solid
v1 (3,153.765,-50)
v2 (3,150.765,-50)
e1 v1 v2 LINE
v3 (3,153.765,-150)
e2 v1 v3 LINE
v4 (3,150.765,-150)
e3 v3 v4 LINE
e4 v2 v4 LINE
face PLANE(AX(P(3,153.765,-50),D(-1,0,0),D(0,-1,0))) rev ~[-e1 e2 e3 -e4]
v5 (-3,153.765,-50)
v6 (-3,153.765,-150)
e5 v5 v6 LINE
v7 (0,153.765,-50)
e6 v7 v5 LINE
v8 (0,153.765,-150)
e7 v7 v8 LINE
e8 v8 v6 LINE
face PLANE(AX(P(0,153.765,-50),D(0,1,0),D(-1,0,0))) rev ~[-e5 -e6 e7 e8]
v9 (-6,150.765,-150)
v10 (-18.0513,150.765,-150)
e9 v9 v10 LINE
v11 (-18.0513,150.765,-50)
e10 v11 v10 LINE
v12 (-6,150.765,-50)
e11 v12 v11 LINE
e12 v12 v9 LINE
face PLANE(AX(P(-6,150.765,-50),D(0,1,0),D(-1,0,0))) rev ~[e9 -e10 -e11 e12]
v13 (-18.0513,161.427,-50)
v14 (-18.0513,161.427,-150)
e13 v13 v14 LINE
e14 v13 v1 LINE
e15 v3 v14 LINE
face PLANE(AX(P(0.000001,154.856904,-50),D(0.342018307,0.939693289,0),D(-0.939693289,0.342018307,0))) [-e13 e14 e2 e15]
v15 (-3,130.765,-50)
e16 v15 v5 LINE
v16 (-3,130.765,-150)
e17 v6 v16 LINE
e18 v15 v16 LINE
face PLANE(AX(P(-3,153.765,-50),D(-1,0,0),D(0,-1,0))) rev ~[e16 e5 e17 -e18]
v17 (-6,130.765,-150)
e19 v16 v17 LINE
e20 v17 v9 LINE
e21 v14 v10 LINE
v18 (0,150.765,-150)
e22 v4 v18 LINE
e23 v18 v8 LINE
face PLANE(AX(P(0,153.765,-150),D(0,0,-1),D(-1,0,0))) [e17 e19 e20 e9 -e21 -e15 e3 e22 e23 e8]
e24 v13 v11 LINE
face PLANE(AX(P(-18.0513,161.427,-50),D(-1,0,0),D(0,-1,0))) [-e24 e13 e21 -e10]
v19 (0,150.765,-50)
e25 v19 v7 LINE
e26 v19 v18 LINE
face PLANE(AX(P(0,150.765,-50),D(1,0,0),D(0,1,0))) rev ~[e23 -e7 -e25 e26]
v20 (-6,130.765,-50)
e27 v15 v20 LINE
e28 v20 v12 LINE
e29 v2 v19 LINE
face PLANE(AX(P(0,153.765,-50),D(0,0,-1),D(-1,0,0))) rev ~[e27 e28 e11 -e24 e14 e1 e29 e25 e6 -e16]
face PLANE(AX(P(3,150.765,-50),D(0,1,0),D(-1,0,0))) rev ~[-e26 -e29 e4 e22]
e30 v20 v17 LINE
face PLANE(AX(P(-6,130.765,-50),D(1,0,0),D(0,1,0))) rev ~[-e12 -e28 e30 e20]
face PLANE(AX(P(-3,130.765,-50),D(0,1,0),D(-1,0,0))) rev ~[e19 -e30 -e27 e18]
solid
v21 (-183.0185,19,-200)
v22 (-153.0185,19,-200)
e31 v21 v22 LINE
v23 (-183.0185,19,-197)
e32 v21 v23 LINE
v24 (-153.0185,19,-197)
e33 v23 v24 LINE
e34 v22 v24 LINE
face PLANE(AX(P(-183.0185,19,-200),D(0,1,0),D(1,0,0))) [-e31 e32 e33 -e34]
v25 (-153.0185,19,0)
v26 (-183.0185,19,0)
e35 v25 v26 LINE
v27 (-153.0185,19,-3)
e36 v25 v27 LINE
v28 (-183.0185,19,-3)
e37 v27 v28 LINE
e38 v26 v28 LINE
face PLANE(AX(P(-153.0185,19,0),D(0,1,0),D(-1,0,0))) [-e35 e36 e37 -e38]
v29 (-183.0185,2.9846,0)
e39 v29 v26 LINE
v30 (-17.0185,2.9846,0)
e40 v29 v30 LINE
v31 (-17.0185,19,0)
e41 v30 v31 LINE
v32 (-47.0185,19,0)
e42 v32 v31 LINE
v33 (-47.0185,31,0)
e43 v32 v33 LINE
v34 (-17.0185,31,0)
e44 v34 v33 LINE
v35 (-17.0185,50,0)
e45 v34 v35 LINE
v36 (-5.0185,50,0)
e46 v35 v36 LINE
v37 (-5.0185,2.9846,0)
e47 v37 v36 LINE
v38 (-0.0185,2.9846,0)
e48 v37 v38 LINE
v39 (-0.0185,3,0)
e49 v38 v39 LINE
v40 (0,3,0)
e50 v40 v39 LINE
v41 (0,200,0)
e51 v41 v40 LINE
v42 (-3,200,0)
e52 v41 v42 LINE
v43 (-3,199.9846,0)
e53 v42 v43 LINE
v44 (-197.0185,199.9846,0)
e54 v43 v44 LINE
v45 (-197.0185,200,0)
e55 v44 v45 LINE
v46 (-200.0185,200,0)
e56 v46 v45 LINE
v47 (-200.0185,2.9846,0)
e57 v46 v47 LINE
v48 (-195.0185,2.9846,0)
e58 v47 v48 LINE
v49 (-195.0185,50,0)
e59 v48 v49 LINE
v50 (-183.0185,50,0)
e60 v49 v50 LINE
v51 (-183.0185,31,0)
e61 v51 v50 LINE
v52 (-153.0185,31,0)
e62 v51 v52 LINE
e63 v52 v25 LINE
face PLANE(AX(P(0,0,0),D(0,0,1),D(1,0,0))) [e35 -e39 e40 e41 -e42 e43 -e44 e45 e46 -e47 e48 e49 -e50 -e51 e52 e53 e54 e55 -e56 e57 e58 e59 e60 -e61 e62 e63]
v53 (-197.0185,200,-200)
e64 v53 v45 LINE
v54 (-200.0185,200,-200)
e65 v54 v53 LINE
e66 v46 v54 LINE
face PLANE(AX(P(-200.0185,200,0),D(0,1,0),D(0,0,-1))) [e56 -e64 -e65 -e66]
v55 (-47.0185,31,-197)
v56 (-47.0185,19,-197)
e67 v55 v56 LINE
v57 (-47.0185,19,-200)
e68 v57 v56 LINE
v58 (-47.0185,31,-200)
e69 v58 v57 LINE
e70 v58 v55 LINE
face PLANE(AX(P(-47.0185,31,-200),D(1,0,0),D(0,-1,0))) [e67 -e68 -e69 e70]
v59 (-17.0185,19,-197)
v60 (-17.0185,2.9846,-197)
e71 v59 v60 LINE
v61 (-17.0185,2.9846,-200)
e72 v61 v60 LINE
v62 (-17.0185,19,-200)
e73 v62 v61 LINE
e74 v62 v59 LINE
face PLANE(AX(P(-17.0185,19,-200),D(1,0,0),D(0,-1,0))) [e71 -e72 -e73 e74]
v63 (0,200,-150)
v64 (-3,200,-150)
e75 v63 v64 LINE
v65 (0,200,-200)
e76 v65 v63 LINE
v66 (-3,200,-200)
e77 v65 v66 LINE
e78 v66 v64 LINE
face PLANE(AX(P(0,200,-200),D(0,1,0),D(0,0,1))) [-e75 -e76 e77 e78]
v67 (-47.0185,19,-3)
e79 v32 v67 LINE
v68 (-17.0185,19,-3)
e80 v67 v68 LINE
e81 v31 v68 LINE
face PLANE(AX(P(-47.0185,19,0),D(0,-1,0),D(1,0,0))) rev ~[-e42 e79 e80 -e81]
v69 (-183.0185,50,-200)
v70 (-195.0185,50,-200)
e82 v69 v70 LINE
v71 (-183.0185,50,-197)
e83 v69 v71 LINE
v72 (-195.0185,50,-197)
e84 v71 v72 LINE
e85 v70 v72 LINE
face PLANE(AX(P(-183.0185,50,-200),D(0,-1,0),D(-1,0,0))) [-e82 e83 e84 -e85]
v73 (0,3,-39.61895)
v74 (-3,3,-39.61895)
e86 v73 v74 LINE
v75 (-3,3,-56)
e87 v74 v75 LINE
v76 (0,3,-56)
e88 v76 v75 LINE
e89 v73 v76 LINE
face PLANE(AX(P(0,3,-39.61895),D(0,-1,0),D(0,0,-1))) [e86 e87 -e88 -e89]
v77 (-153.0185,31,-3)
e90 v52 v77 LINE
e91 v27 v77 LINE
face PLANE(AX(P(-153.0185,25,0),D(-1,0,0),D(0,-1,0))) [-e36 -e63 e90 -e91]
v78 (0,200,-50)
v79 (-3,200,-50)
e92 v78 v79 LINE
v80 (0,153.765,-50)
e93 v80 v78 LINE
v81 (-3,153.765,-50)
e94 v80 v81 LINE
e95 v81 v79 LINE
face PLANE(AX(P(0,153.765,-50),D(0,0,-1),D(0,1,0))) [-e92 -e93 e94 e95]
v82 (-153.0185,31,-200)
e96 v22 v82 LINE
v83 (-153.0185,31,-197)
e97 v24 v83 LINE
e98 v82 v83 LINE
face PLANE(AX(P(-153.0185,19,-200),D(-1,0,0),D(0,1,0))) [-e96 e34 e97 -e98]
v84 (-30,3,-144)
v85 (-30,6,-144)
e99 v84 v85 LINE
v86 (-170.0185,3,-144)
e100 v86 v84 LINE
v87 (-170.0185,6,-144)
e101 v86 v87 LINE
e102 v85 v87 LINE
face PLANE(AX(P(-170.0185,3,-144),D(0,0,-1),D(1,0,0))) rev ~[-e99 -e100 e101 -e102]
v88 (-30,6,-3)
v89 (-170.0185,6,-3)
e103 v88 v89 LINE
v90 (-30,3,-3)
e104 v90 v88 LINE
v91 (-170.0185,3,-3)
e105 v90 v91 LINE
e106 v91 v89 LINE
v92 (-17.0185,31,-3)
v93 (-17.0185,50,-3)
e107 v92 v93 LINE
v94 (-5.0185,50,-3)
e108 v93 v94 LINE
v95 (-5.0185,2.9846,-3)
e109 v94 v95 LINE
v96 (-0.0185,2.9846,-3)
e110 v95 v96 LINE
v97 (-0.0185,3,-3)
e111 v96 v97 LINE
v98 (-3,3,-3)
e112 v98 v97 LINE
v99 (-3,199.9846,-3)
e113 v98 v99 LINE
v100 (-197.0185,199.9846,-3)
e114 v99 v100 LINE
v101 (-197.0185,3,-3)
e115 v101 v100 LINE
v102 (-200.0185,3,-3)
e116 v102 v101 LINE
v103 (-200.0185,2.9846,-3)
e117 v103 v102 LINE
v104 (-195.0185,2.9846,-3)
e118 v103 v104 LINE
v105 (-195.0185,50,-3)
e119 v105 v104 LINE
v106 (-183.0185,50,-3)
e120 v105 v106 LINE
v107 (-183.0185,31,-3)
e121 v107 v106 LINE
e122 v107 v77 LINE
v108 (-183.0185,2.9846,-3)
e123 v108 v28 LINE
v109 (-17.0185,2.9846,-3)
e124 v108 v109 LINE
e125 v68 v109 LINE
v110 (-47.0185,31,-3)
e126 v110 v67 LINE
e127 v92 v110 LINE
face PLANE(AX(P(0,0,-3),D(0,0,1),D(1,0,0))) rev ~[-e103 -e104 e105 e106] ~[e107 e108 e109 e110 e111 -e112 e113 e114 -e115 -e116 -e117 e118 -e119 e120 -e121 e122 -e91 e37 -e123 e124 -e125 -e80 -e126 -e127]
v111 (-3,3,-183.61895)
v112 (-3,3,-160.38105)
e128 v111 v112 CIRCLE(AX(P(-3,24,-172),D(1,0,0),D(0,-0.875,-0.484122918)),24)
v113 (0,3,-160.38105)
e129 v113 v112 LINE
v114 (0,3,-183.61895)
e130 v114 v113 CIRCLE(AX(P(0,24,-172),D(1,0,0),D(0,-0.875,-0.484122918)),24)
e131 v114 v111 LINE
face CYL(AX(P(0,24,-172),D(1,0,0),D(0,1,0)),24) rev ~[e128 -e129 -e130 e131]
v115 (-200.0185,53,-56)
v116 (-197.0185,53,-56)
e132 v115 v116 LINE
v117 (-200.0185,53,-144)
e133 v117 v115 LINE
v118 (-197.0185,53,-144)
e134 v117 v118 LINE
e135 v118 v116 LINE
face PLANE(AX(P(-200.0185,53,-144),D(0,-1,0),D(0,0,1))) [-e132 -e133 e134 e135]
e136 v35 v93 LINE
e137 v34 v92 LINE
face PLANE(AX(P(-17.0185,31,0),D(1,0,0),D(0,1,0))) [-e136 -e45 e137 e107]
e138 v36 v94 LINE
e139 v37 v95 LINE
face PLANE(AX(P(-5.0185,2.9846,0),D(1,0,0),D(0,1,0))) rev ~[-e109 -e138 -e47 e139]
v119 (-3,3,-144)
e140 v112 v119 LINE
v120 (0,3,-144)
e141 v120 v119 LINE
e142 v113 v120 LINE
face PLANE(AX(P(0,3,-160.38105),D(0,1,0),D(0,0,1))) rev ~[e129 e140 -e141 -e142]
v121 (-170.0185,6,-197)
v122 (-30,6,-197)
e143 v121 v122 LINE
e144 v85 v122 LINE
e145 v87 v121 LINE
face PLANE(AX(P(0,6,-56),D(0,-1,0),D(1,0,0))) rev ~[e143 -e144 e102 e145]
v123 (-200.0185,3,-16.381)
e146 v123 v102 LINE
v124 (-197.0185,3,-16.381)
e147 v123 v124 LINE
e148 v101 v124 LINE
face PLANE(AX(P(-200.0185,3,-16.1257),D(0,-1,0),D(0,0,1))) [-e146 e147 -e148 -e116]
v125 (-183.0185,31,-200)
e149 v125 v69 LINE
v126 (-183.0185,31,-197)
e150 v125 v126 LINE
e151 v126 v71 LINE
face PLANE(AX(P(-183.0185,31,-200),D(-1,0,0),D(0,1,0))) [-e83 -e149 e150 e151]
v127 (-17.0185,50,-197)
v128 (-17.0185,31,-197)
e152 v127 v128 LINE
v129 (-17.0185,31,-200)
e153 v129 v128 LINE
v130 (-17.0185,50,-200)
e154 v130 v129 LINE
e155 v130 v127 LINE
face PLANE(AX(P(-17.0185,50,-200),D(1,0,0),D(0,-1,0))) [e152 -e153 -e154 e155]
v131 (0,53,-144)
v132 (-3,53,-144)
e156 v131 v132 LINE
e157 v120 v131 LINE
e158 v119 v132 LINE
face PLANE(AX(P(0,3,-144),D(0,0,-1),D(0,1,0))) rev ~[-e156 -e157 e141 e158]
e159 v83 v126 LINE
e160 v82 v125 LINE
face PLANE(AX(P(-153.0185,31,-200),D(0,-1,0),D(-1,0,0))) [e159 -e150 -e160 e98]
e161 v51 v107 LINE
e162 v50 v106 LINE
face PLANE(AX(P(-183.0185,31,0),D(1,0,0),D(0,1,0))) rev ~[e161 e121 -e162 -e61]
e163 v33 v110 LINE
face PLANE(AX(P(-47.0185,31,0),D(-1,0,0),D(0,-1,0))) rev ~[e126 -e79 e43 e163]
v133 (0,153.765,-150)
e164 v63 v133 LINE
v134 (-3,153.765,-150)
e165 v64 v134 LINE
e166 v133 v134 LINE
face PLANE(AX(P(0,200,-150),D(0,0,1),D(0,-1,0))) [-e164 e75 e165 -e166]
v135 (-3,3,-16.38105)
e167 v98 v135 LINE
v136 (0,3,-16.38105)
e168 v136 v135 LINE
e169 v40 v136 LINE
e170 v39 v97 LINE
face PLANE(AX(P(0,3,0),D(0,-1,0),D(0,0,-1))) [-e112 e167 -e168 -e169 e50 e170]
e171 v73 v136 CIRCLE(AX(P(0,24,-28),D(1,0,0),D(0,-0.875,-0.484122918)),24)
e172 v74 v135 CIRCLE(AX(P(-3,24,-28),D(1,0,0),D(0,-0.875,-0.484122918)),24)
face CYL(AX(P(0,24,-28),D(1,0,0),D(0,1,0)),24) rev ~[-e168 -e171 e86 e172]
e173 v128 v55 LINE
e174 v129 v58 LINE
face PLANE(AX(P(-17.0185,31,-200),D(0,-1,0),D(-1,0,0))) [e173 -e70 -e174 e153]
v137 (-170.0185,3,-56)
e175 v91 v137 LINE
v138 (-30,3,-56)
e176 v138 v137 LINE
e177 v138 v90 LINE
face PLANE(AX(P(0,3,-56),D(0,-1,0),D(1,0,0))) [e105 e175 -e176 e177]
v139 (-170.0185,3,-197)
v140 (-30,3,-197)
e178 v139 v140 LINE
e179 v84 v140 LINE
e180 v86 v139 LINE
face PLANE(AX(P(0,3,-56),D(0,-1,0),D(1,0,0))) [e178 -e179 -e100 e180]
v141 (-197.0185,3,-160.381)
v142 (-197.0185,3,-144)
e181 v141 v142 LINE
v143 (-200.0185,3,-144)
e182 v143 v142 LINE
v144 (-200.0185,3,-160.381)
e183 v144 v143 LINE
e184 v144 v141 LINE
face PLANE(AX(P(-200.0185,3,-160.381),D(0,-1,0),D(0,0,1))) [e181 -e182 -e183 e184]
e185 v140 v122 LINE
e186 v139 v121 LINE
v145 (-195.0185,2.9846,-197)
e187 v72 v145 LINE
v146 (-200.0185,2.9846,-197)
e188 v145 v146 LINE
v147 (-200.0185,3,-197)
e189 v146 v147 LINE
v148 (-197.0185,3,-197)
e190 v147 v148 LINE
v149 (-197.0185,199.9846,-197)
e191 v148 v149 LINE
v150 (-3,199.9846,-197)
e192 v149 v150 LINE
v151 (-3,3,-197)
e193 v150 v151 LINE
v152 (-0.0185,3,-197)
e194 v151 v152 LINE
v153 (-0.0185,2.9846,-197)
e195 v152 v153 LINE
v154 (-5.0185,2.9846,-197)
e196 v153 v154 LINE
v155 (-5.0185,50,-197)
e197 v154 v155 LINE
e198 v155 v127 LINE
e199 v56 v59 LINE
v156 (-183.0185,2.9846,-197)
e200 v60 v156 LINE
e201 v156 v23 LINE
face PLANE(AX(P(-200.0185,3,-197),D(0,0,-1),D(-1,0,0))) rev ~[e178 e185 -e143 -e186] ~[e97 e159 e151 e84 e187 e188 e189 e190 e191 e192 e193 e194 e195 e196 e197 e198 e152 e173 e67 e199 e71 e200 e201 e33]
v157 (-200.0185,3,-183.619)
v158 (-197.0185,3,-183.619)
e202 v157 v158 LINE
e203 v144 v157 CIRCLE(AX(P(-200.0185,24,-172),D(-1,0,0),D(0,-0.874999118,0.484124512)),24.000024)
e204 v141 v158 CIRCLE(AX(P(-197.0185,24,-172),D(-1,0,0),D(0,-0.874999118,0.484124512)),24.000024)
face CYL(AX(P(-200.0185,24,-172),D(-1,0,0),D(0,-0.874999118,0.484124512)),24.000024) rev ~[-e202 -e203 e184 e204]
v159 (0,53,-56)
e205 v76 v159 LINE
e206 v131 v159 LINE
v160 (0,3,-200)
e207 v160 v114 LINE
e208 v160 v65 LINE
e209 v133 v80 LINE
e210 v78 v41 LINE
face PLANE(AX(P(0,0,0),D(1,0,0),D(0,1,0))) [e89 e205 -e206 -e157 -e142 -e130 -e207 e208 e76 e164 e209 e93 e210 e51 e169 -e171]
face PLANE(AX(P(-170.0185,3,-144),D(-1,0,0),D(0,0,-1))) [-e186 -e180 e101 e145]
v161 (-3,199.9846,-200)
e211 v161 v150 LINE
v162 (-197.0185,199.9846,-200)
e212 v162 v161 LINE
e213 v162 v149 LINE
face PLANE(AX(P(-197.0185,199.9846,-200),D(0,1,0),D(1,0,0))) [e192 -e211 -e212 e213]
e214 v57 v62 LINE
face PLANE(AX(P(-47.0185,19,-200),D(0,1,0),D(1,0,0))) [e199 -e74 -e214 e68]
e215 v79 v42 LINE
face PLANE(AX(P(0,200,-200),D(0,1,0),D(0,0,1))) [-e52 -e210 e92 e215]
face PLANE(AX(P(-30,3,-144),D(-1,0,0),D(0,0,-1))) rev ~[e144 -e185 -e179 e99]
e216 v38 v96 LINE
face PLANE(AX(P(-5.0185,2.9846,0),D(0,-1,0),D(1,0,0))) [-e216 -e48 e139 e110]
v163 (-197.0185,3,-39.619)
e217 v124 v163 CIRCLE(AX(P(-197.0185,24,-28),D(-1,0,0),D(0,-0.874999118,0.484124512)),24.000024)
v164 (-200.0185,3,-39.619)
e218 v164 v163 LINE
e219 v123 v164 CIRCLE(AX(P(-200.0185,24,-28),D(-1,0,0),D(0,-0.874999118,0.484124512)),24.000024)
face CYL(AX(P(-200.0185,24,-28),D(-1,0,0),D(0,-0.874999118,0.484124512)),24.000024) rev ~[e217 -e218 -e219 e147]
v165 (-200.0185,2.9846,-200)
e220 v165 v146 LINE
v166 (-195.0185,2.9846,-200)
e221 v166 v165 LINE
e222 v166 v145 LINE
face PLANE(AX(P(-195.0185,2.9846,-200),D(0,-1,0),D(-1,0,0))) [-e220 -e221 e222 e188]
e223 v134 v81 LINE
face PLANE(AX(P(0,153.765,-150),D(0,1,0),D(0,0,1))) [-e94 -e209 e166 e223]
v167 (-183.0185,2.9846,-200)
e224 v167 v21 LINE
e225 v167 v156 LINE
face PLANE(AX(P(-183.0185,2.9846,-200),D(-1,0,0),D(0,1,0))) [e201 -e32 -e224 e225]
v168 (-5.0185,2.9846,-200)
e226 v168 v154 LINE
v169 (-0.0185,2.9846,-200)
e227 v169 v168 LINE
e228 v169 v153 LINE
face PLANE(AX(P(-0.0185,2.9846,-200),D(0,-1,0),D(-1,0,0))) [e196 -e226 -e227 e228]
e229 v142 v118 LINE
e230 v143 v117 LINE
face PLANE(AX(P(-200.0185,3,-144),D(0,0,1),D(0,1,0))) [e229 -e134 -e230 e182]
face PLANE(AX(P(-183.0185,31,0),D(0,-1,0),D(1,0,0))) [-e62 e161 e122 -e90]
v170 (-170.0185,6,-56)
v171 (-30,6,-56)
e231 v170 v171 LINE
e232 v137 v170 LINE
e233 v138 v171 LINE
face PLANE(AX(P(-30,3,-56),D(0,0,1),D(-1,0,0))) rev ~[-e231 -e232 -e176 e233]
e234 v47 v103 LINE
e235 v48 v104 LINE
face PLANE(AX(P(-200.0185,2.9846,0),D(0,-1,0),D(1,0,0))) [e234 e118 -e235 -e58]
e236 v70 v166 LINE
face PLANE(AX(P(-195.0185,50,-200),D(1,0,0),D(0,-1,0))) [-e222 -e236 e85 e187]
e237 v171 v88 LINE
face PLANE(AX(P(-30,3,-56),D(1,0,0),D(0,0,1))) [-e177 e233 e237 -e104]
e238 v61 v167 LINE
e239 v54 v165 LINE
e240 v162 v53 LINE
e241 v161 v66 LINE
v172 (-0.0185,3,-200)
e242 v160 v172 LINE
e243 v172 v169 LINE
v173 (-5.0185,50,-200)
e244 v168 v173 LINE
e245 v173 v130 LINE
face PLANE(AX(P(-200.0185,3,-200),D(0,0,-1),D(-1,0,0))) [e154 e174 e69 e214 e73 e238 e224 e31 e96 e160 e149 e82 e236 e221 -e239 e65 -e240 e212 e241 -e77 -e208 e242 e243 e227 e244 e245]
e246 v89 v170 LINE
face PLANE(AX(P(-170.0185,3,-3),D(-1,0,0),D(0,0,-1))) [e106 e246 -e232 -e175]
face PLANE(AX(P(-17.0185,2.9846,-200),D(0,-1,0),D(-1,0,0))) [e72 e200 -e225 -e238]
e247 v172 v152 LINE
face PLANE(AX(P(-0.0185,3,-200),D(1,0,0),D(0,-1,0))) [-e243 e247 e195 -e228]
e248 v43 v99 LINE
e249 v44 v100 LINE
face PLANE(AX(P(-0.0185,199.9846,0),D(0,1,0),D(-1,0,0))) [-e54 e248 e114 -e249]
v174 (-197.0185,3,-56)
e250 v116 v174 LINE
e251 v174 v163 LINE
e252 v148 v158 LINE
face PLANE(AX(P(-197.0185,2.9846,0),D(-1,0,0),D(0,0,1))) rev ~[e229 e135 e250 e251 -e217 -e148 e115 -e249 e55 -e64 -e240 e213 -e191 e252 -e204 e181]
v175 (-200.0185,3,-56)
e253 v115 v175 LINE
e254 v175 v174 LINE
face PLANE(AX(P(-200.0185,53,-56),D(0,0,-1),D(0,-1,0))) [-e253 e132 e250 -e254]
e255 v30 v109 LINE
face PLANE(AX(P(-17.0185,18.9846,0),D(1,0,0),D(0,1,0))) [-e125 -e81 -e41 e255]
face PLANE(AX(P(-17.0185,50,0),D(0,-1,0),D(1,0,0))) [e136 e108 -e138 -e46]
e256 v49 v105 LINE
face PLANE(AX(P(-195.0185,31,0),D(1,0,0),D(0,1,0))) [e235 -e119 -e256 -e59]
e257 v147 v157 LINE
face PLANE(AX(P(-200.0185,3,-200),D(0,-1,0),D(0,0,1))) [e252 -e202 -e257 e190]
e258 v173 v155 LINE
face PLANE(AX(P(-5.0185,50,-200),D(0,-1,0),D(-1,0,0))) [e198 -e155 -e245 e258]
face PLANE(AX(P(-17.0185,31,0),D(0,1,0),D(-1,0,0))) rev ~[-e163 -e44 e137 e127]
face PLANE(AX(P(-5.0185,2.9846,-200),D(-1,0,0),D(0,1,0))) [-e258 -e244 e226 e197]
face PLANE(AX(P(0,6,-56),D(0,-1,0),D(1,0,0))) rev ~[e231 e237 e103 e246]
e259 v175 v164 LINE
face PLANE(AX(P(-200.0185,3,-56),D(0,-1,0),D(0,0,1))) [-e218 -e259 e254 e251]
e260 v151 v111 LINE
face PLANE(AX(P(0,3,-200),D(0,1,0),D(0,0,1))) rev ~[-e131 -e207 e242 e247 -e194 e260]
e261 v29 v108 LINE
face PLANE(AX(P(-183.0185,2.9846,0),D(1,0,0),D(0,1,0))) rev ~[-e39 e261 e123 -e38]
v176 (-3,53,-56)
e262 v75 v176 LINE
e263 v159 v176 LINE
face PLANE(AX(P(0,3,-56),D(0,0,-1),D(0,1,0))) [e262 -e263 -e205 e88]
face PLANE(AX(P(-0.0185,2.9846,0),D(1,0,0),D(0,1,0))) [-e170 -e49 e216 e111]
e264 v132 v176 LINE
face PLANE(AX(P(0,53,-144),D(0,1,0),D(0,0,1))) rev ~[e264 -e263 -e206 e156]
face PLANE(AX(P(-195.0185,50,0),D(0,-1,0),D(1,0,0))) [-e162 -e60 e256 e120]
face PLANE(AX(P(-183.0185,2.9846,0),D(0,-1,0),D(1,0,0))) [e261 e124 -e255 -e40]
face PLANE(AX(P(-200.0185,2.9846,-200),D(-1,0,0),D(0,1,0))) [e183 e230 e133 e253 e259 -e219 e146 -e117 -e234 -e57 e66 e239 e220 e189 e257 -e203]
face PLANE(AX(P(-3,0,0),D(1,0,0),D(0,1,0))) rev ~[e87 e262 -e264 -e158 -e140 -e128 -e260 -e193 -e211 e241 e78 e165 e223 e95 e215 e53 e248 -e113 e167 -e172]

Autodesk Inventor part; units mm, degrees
ref_plane "YZ Plane" through (0, 0, 0) normal (1, 0, 0) x (0, 1, 0)
ref_plane "XZ Plane" through (0, 0, 0) normal (0, 1, 0) x (-1, 0, 0)
ref_plane "XY Plane" through (0, 0, 0) normal (0, 0, 1) x (1, 0, 0)
sketch "Sketch1" plane through (0, 0, 0) normal (0, 0, 1) x (1, 0, 0)
  line L0 (-200.0185, 197.9846) -> (-0.0185, -2.0154) construction
  line L1 (-200.0185, -2.0154) -> (-0.0185, 197.9846) construction
  line L2 (-200.0185, 2.9846) -> (-0.0185, 2.9846)
  line L3 (-0.0185, 2.9846) -> (-5.0185, 2.9846)
  line L4 (-17.0185, -0.0154) -> (-5.0185, -0.0154)
  line L5 (-17.0185, 6.9846) -> (-17.0185, 18.9846)
  line L6 (-47.0185, 6.9846) -> (-17.0185, 18.9846) construction
  line L7 (-17.0185, 6.9846) -> (-47.0185, 18.9846) construction
  line L8 (-195.0185, 25.9846) -> (-195.0185, -0.0154)
  line L9 (-195.0185, -0.0154) -> (-183.0185, -0.0154)
  line L10 (-183.0185, -0.0154) -> (-183.0185, 25.9846)
  line L11 (-183.0185, 25.9846) -> (-195.0185, -0.0154) construction
  line L12 (-195.0185, 25.9846) -> (-183.0185, -0.0154) construction
  line L13 (-168.0185, 12.9846) -> (-183.0185, 6.9846) construction
  line L14 (-0.0185, 2.9846) -> (-0.0185, 199.9846)
  line L15 (-0.0185, 199.9846) -> (-200.0185, 199.9846)
  line L16 (-200.0185, 2.9846) -> (-200.0185, 199.9846)
  line L17 (-183.0185, 18.9846) -> (-180.1613, 17.8418) construction
  line L18 (-168.0185, 12.9846) -> (-153.0185, 6.9846) construction
  line L19 (-5.0185, 0) -> (-17.0185, 0)
  line L20 (-183.0185, 0) -> (-195.0185, 0)
  line L21 (-5.0185, 0) -> (-5.0185, 50)
  line L22 (-17.0185, 0) -> (-17.0185, 50)
  line L23 (-17.0185, 50) -> (-5.0185, 50)
  line L24 (-5.0185, 25) -> (-47.0185, 25)
  line L25 (-47.0185, 19) -> (-5.0185, 19)
  line L26 (-5.0185, 19) -> (-5.0185, 31)
  line L27 (-5.0185, 31) -> (-47.0185, 31)
  line L28 (-47.0185, 31) -> (-47.0185, 19)
  line L29 (-47.0185, 19) -> (-5.0185, 31) construction
  line L30 (-5.0185, 19) -> (-47.0185, 31) construction
  line L31 (-183.0185, 0) -> (-183.0185, 50)
  line L32 (-195.0185, 0) -> (-195.0185, 50)
  line L33 (-195.0185, 50) -> (-183.0185, 50)
  line L34 (-195.0185, 25) -> (-153.0185, 25)
  line L35 (-153.0185, 19) -> (-195.0185, 19)
  line L36 (-195.0185, 19) -> (-195.0185, 31)
  line L37 (-195.0185, 31) -> (-153.0185, 31)
  line L38 (-153.0185, 31) -> (-153.0185, 19)
  line L39 (-153.0185, 19) -> (-195.0185, 31) construction
  line L40 (-195.0185, 19) -> (-153.0185, 31) construction
  point P0 (-32.0185, 12.9846)
  point P1 (-26.0185, 25)
  point P2 (-174.0185, 25)
  point P3 (-195.0185, 2.9846)
  point P4 (-183.0185, 31)
  point P5 (-183.0185, 19)
  point P6 (-183.0185, 2.9846)
  point P7 (-17.0185, 2.9846)
  point P8 (-17.0185, 19)
  point P9 (-17.0185, 31)
  dimension "d63" = 50
  dimension "d64" = 50
  dimension "d65" = 42
  dimension "d66" = 12
  dimension "d67" = 50
  dimension "d68" = 50
  dimension "d69" = 42
  dimension "d70" = 12
sketch "Sketch3" plane through (0, 0, 0) normal (1, 0, 0) x (0, 1, 0)
  line L0 (3, -200) -> (200, -200)
  line L1 (200, -200) -> (200, 0)
  line L2 (200, 0) -> (3, 0)
  line L3 (3, -200) -> (3, -185)
  line L4 (3, 0) -> (3, -30)
  line L5 (3, 0) -> (3, -30)
  line L6 (3, -170) -> (3, -200)
  line L7 (3, -200) -> (3, -144)
  line L8 (3, 0) -> (3, -56)
  line L9 (3, -56) -> (53, -56)
  line L10 (3, -144) -> (53, -144)
  line L11 (53, -144) -> (53, -56)
  line L12 (3, 0) -> (3, -28)
  line L13 (3, -172) -> (24, -172)
  circle A0 centre (24, -172) radius 24
  line L14 (3, -28) -> (24, -28)
  circle A1 centre (24, -28) radius 24
  point P0 (3, -16.381)
  point P1 (3, -39.619)
  point P2 (3, -160.381)
  point P3 (3, -183.619)
  dimension "d71" = 56
  dimension "d72" = 56
  dimension "d73" = 50
  dimension "d74" = 50
  dimension "d108" = 21
  dimension "d109" = 48
  dimension "d110" = 21
  dimension "d111" = 48
extrude "Extrusion1" add sketch "Sketch1" against normal blind 3 contours L21 L23 L22 L27 L28 L25 L5 L2 L10 L35 L38 L37 L31 L33 L32 L8 L16 L15 L14
extrude "Extrusion2" add sketch "Sketch3" against normal blind 3 contours L3 L6 A0 L7 L10 L11 L9 L8 A1 L4 L2 L1 L0
sketch "Sketch4" plane through (-200.0185, 2.9846, 0) normal (-1, 0, 0) x (0, 0, 1)
  line L0 (-3, 197) -> (-3, 0.0154) projected
  line L1 (0, 197) -> (-3, 197) projected
  line L2 (0, 197) -> (0, 197.0154) projected
  line L3 (0, 197.0154) -> (-200, 197.0154) projected
  line L4 (-200, 197.0154) -> (-200, 0.0154) projected
  line L5 (-144, 0.0154) -> (-144, 50.0154) projected
  line L6 (-144, 50.0154) -> (-56, 50.0154) projected
  line L7 (-56, 50.0154) -> (-56, 0.0154) projected
  line L8 (-3, 0) -> (-3, 197) projected
  line L9 (-56, 0.0154) -> (-3, 0.0154) projected
  arc A0 (-16.1257, 0.0154) -> (-3, 22.0154) centre (-28, 22.0154) ccw projected
  line L10 (-144, 0.0154) -> (-56, 0.0154)
  line L11 (-200, 197.0154) -> (-200, 147.0154)
  line L12 (-200, 147.0154) -> (-3, 147.0154)
  line L13 (-144, 0.0154) -> (-144, 197.0154)
  line L14 (-56, 0.0154) -> (-56, 197.0154)
  line L15 (-16.381, 0.0154) -> (-3, 0.0154) projected
  line L16 (-200, 0.0154) -> (-183.619, 0.0154) projected
  arc A1 (-160.381, 0.0154) -> (-183.619, 0.0154) centre (-172, 21.0154) ccw projected
  line L17 (-160.381, 0.0154) -> (-144, 0.0154) projected
  line L18 (-56, 0.0154) -> (-39.619, 0.0154) projected
  arc A2 (-16.381, 0.0154) -> (-39.619, 0.0154) centre (-28, 21.0154) ccw projected
  point P0 (-3, 147.0154)
  point P1 (-56, 147.0154)
  point P2 (-144, 147.0154)
  point P3 (-56, 50.0154)
  dimension "d87" = 50
extrude "Extrusion3" add sketch "Sketch4" against normal blind 3 contours L0 L12 L14 L3 L2 L1 | L0 A0 L9 A2 L7 L14 L12 | L0 L9 A0 | L14 L6 L13 L12 | L12 L13 L3 L14 | L13 L5 L17 A1 L16 L4 L12 | L12 L4 L3 L13
sketch "Sketch5" plane through (-200.0185, 3, -200) normal (0, 0, -1) x (-1, 0, 0)
  line L0 (-3, 0) -> (-3, 196.9846) projected
  line L1 (-3, 196.9846) -> (-197.0185, 196.9846) projected
  line L2 (-197.0185, 196.9846) -> (-197.0185, 0) projected
  line L3 (-197.0185, 0) -> (-200, 0) projected
  line L4 (-200, 0) -> (-200, -0.0154) projected
  line L5 (-200, -0.0154) -> (-195, -0.0154) projected
  line L6 (-195, -0.0154) -> (-195, 47) projected
  line L7 (-195, 47) -> (-183, 47) projected
  line L8 (-183, 47) -> (-183, 28) projected
  line L9 (-183, 28) -> (-153, 28) projected
  line L10 (-153, 28) -> (-153, 16) projected
  line L11 (-153, 16) -> (-183, 16) projected
  line L12 (-183, 16) -> (-183, -0.0154) projected
  line L13 (-183, -0.0154) -> (-17, -0.0154) projected
  line L14 (-17, -0.0154) -> (-17, 16) projected
  line L15 (-17, 16) -> (-47, 16) projected
  line L16 (-47, 16) -> (-47, 28) projected
  line L17 (-47, 28) -> (-17, 28) projected
  line L18 (-17, 28) -> (-17, 47) projected
  line L19 (-17, 47) -> (-5, 47) projected
  line L20 (-5, 47) -> (-5, -0.0154) projected
  line L21 (-5, -0.0154) -> (0, -0.0154) projected
  line L22 (0, -0.0154) -> (0, 0) projected
  line L23 (0, 0) -> (-3, 0) projected
extrude "Extrusion4" add sketch "Sketch5" against normal blind 3
sketch "Sketch6" plane through (0, 3, -56) normal (0, -1, 0) x (1, 0, 0)
  line L0 (-3, 53) -> (-0.0185, 53) projected
  line L1 (-3, 39.619) -> (-3, 53) projected
  line L2 (0, 56) -> (0, 39.619) projected
  line L3 (0, 56) -> (-0.0185, 56) projected
  line L4 (-0.0185, 53) -> (-0.0185, 56) projected
  line L5 (-5.0185, 56) -> (-0.0185, 56) projected
  line L6 (-5.0185, 56) -> (-5.0185, 53) projected
  line L7 (-0.0185, 53) -> (-5.0185, 53) projected
  line L8 (-0.0185, 56) -> (-0.0185, 53) projected
  line L9 (0, 16.381) -> (0, 0) projected
  line L10 (-3, 0) -> (-3, 16.381) projected
  line L11 (0, 0) -> (-3, 0) projected
  line L12 (0, -88) -> (0, -104.381) projected
  line L13 (0, -88) -> (-3, -88) projected
  line L14 (-3, -104.381) -> (-3, -88) projected
  line L15 (-0.0185, -141) -> (-0.0185, -144) projected
  line L16 (0, -144) -> (-0.0185, -144) projected
  line L17 (0, -127.619) -> (0, -144) projected
  line L18 (-3, -141) -> (-3, -127.619) projected
  line L19 (-3, -141) -> (-0.0185, -141) projected
  line L20 (-0.0185, -144) -> (-5.0185, -144) projected
  line L21 (-0.0185, -144) -> (-0.0185, -141) projected
  line L22 (-5.0185, -141) -> (-0.0185, -141) projected
  line L23 (-5.0185, -144) -> (-5.0185, -141) projected
  line L24 (-17.0185, -144) -> (-183.0185, -144) projected
  line L25 (-17.0185, -144) -> (-17.0185, -141) projected
  line L26 (-183.0185, -141) -> (-17.0185, -141) projected
  line L27 (-183.0185, -144) -> (-183.0185, -141) projected
  line L28 (-195.0185, -144) -> (-200.0185, -144) projected
  line L29 (-195.0185, -144) -> (-195.0185, -141) projected
  line L30 (-200.0185, -141) -> (-195.0185, -141) projected
  line L31 (-200.0185, -144) -> (-200.0185, -141) projected
  line L32 (-200.0185, -141) -> (-197.0185, -141) projected
  line L33 (-197.0185, -127.8743) -> (-197.0185, -141) projected
  line L34 (-200.0185, -127.8743) -> (-197.0185, -127.8743) projected
  line L35 (-200.0185, -141) -> (-200.0185, -127.8743) projected
  line L36 (-200.0185, -104.1257) -> (-200.0185, 16.1257) projected
  line L37 (-200.0185, -104.1257) -> (-197.0185, -104.1257) projected
  line L38 (-197.0185, 16.1257) -> (-197.0185, -104.1257) projected
  line L39 (-183.0185, 56) -> (-17.0185, 56) projected
  line L40 (-183.0185, 56) -> (-183.0185, 53) projected
  line L41 (-17.0185, 53) -> (-183.0185, 53) projected
  line L42 (-17.0185, 56) -> (-17.0185, 53) projected
  line L43 (-200.0185, 56) -> (-195.0185, 56) projected
  line L44 (-200.0185, 56) -> (-200.0185, 53) projected
  line L45 (-195.0185, 53) -> (-200.0185, 53) projected
  line L46 (-195.0185, 56) -> (-195.0185, 53) projected
  line L47 (-200.0185, 39.8743) -> (-200.0185, 53) projected
  line L48 (-200.0185, 39.8743) -> (-197.0185, 39.8743) projected
  line L49 (-197.0185, 53) -> (-197.0185, 39.8743) projected
  line L50 (-200.0185, 53) -> (-197.0185, 53) projected
  line L51 (-200.0185, 0) -> (-200.0185, 16.1257) projected
  line L52 (-200.0185, 0) -> (-197.0185, 0) projected
  line L53 (-197.0185, 16.1257) -> (-197.0185, 0) projected
  line L54 (-200.0185, 16.1257) -> (-197.0185, 16.1257) projected
  line L55 (-3, 0) -> (-197.0185, 0)
  line L56 (-197.0185, -88) -> (-3, -88)
  line L57 (-200.0185, 16.1257) -> (-197.0185, 16.1257) projected
  line L58 (-197.0185, -88) -> (-157.0185, -88)
  line L59 (-157.0185, -88) -> (-157.0185, 0)
  line L60 (-3, -88) -> (-30, -88)
  line L61 (-30, -88) -> (-30, -141)
  line L62 (-30, -141) -> (-30, 53)
  line L63 (-197.0185, 53) -> (-170.0185, 53)
  line L64 (-170.0185, 53) -> (-170.0185, -141)
  line L65 (0, -104.381) -> (-3, -104.381) projected
  line L66 (0, 16.381) -> (-3, 16.381) projected
  line L67 (0, 39.619) -> (-3, 39.619) projected
  line L68 (0, -127.619) -> (-3, -127.619) projected
  point P0 (-170.0185, 0)
  point P1 (-30, 0)
  point P2 (-170.0185, -88)
  dimension "d88" = 40
extrude "Extrusion5" add sketch "Sketch6" against normal blind 3 contours L55 L64 L41 L62 | L61 L26 L64 L56
sketch "Sketch7" plane through (0, 0, 0) normal (1, 0, 0) x (0, 0, -1)
  line L0 (200, 200) -> (0, 200) projected
  line L1 (50, 200) -> (150, 200)
  line L2 (150, 200) -> (150, 153.765)
  line L3 (150, 153.765) -> (50, 153.765)
  line L4 (50, 153.765) -> (50, 200)
  line L5 (200, 3) -> (200, 200) projected
  point P0 (0, 0)
  dimension "d91" = 100
  dimension "d92" = 46.235
  dimension "d93" = 50
extrude "Extrusion6" cut sketch "Sketch7" against normal blind 3
sketch "Sketch9" plane through (0, 153.765, -50) normal (0, 0, -1) x (-1, 0, 0)
  line L0 (0, 0) -> (3, 0)
  line L1 (3, 75.6757) -> (3, -99.3089)
  line L2 (-3, 0) -> (18.0513, 7.662)
  line L3 (18.0513, 7.662) -> (18.0513, -3)
  line L4 (0, 0) -> (-3, 0)
  line L5 (-3, 0) -> (-3, -3)
  line L6 (-3, -3) -> (0, -3)
  line L7 (0, -3) -> (0, 0)
  line L8 (3, -23) -> (6, -23)
  line L9 (6, -23) -> (6, -3)
  line L10 (6, -3) -> (3, -3)
  line L11 (3, -3) -> (3, -23)
  line L12 (6, -3) -> (18.0513, -3)
  line L13 (0, -3) -> (0, 0)
  line L14 (0, 72.6911) -> (0, -124.5109)
  line L15 (3, 0) -> (3, -3)
  line L16 (0, 0) -> (0, 1.0919)
  line L17 (0, 0) -> (0, 72.6911)
  line L18 (0, 0) -> (3, 0)
  line L19 (3, 0) -> (3, 2.1838)
  line L20 (0, 46.235) -> (0, -150.765) projected
  line L21 (3, 46.2196) -> (3, -150.765) projected
  line L22 (0, 0) -> (3, 0) projected
  line L23 (3, 46.235) -> (3, 0) projected
  point P0 (0, -153.765)
  point P1 (-77.5449, -124.3089)
  point P2 (-74.5449, 26.4561)
  point P3 (3, -128.765)
  dimension "d96" = 3
  dimension "d97" = 3
  dimension "d98" = 20
  dimension "d99" = 3
  dimension "d100" = 10.6621
  dimension "d101" = 3
  dimension "d102" = 15.0513
  dimension "d103" = 20
extrude "Extrusion7" add sketch "Sketch9" along normal up to surface (100 mm away) separate body
properties part number "Chassis Conceptual Geo"
